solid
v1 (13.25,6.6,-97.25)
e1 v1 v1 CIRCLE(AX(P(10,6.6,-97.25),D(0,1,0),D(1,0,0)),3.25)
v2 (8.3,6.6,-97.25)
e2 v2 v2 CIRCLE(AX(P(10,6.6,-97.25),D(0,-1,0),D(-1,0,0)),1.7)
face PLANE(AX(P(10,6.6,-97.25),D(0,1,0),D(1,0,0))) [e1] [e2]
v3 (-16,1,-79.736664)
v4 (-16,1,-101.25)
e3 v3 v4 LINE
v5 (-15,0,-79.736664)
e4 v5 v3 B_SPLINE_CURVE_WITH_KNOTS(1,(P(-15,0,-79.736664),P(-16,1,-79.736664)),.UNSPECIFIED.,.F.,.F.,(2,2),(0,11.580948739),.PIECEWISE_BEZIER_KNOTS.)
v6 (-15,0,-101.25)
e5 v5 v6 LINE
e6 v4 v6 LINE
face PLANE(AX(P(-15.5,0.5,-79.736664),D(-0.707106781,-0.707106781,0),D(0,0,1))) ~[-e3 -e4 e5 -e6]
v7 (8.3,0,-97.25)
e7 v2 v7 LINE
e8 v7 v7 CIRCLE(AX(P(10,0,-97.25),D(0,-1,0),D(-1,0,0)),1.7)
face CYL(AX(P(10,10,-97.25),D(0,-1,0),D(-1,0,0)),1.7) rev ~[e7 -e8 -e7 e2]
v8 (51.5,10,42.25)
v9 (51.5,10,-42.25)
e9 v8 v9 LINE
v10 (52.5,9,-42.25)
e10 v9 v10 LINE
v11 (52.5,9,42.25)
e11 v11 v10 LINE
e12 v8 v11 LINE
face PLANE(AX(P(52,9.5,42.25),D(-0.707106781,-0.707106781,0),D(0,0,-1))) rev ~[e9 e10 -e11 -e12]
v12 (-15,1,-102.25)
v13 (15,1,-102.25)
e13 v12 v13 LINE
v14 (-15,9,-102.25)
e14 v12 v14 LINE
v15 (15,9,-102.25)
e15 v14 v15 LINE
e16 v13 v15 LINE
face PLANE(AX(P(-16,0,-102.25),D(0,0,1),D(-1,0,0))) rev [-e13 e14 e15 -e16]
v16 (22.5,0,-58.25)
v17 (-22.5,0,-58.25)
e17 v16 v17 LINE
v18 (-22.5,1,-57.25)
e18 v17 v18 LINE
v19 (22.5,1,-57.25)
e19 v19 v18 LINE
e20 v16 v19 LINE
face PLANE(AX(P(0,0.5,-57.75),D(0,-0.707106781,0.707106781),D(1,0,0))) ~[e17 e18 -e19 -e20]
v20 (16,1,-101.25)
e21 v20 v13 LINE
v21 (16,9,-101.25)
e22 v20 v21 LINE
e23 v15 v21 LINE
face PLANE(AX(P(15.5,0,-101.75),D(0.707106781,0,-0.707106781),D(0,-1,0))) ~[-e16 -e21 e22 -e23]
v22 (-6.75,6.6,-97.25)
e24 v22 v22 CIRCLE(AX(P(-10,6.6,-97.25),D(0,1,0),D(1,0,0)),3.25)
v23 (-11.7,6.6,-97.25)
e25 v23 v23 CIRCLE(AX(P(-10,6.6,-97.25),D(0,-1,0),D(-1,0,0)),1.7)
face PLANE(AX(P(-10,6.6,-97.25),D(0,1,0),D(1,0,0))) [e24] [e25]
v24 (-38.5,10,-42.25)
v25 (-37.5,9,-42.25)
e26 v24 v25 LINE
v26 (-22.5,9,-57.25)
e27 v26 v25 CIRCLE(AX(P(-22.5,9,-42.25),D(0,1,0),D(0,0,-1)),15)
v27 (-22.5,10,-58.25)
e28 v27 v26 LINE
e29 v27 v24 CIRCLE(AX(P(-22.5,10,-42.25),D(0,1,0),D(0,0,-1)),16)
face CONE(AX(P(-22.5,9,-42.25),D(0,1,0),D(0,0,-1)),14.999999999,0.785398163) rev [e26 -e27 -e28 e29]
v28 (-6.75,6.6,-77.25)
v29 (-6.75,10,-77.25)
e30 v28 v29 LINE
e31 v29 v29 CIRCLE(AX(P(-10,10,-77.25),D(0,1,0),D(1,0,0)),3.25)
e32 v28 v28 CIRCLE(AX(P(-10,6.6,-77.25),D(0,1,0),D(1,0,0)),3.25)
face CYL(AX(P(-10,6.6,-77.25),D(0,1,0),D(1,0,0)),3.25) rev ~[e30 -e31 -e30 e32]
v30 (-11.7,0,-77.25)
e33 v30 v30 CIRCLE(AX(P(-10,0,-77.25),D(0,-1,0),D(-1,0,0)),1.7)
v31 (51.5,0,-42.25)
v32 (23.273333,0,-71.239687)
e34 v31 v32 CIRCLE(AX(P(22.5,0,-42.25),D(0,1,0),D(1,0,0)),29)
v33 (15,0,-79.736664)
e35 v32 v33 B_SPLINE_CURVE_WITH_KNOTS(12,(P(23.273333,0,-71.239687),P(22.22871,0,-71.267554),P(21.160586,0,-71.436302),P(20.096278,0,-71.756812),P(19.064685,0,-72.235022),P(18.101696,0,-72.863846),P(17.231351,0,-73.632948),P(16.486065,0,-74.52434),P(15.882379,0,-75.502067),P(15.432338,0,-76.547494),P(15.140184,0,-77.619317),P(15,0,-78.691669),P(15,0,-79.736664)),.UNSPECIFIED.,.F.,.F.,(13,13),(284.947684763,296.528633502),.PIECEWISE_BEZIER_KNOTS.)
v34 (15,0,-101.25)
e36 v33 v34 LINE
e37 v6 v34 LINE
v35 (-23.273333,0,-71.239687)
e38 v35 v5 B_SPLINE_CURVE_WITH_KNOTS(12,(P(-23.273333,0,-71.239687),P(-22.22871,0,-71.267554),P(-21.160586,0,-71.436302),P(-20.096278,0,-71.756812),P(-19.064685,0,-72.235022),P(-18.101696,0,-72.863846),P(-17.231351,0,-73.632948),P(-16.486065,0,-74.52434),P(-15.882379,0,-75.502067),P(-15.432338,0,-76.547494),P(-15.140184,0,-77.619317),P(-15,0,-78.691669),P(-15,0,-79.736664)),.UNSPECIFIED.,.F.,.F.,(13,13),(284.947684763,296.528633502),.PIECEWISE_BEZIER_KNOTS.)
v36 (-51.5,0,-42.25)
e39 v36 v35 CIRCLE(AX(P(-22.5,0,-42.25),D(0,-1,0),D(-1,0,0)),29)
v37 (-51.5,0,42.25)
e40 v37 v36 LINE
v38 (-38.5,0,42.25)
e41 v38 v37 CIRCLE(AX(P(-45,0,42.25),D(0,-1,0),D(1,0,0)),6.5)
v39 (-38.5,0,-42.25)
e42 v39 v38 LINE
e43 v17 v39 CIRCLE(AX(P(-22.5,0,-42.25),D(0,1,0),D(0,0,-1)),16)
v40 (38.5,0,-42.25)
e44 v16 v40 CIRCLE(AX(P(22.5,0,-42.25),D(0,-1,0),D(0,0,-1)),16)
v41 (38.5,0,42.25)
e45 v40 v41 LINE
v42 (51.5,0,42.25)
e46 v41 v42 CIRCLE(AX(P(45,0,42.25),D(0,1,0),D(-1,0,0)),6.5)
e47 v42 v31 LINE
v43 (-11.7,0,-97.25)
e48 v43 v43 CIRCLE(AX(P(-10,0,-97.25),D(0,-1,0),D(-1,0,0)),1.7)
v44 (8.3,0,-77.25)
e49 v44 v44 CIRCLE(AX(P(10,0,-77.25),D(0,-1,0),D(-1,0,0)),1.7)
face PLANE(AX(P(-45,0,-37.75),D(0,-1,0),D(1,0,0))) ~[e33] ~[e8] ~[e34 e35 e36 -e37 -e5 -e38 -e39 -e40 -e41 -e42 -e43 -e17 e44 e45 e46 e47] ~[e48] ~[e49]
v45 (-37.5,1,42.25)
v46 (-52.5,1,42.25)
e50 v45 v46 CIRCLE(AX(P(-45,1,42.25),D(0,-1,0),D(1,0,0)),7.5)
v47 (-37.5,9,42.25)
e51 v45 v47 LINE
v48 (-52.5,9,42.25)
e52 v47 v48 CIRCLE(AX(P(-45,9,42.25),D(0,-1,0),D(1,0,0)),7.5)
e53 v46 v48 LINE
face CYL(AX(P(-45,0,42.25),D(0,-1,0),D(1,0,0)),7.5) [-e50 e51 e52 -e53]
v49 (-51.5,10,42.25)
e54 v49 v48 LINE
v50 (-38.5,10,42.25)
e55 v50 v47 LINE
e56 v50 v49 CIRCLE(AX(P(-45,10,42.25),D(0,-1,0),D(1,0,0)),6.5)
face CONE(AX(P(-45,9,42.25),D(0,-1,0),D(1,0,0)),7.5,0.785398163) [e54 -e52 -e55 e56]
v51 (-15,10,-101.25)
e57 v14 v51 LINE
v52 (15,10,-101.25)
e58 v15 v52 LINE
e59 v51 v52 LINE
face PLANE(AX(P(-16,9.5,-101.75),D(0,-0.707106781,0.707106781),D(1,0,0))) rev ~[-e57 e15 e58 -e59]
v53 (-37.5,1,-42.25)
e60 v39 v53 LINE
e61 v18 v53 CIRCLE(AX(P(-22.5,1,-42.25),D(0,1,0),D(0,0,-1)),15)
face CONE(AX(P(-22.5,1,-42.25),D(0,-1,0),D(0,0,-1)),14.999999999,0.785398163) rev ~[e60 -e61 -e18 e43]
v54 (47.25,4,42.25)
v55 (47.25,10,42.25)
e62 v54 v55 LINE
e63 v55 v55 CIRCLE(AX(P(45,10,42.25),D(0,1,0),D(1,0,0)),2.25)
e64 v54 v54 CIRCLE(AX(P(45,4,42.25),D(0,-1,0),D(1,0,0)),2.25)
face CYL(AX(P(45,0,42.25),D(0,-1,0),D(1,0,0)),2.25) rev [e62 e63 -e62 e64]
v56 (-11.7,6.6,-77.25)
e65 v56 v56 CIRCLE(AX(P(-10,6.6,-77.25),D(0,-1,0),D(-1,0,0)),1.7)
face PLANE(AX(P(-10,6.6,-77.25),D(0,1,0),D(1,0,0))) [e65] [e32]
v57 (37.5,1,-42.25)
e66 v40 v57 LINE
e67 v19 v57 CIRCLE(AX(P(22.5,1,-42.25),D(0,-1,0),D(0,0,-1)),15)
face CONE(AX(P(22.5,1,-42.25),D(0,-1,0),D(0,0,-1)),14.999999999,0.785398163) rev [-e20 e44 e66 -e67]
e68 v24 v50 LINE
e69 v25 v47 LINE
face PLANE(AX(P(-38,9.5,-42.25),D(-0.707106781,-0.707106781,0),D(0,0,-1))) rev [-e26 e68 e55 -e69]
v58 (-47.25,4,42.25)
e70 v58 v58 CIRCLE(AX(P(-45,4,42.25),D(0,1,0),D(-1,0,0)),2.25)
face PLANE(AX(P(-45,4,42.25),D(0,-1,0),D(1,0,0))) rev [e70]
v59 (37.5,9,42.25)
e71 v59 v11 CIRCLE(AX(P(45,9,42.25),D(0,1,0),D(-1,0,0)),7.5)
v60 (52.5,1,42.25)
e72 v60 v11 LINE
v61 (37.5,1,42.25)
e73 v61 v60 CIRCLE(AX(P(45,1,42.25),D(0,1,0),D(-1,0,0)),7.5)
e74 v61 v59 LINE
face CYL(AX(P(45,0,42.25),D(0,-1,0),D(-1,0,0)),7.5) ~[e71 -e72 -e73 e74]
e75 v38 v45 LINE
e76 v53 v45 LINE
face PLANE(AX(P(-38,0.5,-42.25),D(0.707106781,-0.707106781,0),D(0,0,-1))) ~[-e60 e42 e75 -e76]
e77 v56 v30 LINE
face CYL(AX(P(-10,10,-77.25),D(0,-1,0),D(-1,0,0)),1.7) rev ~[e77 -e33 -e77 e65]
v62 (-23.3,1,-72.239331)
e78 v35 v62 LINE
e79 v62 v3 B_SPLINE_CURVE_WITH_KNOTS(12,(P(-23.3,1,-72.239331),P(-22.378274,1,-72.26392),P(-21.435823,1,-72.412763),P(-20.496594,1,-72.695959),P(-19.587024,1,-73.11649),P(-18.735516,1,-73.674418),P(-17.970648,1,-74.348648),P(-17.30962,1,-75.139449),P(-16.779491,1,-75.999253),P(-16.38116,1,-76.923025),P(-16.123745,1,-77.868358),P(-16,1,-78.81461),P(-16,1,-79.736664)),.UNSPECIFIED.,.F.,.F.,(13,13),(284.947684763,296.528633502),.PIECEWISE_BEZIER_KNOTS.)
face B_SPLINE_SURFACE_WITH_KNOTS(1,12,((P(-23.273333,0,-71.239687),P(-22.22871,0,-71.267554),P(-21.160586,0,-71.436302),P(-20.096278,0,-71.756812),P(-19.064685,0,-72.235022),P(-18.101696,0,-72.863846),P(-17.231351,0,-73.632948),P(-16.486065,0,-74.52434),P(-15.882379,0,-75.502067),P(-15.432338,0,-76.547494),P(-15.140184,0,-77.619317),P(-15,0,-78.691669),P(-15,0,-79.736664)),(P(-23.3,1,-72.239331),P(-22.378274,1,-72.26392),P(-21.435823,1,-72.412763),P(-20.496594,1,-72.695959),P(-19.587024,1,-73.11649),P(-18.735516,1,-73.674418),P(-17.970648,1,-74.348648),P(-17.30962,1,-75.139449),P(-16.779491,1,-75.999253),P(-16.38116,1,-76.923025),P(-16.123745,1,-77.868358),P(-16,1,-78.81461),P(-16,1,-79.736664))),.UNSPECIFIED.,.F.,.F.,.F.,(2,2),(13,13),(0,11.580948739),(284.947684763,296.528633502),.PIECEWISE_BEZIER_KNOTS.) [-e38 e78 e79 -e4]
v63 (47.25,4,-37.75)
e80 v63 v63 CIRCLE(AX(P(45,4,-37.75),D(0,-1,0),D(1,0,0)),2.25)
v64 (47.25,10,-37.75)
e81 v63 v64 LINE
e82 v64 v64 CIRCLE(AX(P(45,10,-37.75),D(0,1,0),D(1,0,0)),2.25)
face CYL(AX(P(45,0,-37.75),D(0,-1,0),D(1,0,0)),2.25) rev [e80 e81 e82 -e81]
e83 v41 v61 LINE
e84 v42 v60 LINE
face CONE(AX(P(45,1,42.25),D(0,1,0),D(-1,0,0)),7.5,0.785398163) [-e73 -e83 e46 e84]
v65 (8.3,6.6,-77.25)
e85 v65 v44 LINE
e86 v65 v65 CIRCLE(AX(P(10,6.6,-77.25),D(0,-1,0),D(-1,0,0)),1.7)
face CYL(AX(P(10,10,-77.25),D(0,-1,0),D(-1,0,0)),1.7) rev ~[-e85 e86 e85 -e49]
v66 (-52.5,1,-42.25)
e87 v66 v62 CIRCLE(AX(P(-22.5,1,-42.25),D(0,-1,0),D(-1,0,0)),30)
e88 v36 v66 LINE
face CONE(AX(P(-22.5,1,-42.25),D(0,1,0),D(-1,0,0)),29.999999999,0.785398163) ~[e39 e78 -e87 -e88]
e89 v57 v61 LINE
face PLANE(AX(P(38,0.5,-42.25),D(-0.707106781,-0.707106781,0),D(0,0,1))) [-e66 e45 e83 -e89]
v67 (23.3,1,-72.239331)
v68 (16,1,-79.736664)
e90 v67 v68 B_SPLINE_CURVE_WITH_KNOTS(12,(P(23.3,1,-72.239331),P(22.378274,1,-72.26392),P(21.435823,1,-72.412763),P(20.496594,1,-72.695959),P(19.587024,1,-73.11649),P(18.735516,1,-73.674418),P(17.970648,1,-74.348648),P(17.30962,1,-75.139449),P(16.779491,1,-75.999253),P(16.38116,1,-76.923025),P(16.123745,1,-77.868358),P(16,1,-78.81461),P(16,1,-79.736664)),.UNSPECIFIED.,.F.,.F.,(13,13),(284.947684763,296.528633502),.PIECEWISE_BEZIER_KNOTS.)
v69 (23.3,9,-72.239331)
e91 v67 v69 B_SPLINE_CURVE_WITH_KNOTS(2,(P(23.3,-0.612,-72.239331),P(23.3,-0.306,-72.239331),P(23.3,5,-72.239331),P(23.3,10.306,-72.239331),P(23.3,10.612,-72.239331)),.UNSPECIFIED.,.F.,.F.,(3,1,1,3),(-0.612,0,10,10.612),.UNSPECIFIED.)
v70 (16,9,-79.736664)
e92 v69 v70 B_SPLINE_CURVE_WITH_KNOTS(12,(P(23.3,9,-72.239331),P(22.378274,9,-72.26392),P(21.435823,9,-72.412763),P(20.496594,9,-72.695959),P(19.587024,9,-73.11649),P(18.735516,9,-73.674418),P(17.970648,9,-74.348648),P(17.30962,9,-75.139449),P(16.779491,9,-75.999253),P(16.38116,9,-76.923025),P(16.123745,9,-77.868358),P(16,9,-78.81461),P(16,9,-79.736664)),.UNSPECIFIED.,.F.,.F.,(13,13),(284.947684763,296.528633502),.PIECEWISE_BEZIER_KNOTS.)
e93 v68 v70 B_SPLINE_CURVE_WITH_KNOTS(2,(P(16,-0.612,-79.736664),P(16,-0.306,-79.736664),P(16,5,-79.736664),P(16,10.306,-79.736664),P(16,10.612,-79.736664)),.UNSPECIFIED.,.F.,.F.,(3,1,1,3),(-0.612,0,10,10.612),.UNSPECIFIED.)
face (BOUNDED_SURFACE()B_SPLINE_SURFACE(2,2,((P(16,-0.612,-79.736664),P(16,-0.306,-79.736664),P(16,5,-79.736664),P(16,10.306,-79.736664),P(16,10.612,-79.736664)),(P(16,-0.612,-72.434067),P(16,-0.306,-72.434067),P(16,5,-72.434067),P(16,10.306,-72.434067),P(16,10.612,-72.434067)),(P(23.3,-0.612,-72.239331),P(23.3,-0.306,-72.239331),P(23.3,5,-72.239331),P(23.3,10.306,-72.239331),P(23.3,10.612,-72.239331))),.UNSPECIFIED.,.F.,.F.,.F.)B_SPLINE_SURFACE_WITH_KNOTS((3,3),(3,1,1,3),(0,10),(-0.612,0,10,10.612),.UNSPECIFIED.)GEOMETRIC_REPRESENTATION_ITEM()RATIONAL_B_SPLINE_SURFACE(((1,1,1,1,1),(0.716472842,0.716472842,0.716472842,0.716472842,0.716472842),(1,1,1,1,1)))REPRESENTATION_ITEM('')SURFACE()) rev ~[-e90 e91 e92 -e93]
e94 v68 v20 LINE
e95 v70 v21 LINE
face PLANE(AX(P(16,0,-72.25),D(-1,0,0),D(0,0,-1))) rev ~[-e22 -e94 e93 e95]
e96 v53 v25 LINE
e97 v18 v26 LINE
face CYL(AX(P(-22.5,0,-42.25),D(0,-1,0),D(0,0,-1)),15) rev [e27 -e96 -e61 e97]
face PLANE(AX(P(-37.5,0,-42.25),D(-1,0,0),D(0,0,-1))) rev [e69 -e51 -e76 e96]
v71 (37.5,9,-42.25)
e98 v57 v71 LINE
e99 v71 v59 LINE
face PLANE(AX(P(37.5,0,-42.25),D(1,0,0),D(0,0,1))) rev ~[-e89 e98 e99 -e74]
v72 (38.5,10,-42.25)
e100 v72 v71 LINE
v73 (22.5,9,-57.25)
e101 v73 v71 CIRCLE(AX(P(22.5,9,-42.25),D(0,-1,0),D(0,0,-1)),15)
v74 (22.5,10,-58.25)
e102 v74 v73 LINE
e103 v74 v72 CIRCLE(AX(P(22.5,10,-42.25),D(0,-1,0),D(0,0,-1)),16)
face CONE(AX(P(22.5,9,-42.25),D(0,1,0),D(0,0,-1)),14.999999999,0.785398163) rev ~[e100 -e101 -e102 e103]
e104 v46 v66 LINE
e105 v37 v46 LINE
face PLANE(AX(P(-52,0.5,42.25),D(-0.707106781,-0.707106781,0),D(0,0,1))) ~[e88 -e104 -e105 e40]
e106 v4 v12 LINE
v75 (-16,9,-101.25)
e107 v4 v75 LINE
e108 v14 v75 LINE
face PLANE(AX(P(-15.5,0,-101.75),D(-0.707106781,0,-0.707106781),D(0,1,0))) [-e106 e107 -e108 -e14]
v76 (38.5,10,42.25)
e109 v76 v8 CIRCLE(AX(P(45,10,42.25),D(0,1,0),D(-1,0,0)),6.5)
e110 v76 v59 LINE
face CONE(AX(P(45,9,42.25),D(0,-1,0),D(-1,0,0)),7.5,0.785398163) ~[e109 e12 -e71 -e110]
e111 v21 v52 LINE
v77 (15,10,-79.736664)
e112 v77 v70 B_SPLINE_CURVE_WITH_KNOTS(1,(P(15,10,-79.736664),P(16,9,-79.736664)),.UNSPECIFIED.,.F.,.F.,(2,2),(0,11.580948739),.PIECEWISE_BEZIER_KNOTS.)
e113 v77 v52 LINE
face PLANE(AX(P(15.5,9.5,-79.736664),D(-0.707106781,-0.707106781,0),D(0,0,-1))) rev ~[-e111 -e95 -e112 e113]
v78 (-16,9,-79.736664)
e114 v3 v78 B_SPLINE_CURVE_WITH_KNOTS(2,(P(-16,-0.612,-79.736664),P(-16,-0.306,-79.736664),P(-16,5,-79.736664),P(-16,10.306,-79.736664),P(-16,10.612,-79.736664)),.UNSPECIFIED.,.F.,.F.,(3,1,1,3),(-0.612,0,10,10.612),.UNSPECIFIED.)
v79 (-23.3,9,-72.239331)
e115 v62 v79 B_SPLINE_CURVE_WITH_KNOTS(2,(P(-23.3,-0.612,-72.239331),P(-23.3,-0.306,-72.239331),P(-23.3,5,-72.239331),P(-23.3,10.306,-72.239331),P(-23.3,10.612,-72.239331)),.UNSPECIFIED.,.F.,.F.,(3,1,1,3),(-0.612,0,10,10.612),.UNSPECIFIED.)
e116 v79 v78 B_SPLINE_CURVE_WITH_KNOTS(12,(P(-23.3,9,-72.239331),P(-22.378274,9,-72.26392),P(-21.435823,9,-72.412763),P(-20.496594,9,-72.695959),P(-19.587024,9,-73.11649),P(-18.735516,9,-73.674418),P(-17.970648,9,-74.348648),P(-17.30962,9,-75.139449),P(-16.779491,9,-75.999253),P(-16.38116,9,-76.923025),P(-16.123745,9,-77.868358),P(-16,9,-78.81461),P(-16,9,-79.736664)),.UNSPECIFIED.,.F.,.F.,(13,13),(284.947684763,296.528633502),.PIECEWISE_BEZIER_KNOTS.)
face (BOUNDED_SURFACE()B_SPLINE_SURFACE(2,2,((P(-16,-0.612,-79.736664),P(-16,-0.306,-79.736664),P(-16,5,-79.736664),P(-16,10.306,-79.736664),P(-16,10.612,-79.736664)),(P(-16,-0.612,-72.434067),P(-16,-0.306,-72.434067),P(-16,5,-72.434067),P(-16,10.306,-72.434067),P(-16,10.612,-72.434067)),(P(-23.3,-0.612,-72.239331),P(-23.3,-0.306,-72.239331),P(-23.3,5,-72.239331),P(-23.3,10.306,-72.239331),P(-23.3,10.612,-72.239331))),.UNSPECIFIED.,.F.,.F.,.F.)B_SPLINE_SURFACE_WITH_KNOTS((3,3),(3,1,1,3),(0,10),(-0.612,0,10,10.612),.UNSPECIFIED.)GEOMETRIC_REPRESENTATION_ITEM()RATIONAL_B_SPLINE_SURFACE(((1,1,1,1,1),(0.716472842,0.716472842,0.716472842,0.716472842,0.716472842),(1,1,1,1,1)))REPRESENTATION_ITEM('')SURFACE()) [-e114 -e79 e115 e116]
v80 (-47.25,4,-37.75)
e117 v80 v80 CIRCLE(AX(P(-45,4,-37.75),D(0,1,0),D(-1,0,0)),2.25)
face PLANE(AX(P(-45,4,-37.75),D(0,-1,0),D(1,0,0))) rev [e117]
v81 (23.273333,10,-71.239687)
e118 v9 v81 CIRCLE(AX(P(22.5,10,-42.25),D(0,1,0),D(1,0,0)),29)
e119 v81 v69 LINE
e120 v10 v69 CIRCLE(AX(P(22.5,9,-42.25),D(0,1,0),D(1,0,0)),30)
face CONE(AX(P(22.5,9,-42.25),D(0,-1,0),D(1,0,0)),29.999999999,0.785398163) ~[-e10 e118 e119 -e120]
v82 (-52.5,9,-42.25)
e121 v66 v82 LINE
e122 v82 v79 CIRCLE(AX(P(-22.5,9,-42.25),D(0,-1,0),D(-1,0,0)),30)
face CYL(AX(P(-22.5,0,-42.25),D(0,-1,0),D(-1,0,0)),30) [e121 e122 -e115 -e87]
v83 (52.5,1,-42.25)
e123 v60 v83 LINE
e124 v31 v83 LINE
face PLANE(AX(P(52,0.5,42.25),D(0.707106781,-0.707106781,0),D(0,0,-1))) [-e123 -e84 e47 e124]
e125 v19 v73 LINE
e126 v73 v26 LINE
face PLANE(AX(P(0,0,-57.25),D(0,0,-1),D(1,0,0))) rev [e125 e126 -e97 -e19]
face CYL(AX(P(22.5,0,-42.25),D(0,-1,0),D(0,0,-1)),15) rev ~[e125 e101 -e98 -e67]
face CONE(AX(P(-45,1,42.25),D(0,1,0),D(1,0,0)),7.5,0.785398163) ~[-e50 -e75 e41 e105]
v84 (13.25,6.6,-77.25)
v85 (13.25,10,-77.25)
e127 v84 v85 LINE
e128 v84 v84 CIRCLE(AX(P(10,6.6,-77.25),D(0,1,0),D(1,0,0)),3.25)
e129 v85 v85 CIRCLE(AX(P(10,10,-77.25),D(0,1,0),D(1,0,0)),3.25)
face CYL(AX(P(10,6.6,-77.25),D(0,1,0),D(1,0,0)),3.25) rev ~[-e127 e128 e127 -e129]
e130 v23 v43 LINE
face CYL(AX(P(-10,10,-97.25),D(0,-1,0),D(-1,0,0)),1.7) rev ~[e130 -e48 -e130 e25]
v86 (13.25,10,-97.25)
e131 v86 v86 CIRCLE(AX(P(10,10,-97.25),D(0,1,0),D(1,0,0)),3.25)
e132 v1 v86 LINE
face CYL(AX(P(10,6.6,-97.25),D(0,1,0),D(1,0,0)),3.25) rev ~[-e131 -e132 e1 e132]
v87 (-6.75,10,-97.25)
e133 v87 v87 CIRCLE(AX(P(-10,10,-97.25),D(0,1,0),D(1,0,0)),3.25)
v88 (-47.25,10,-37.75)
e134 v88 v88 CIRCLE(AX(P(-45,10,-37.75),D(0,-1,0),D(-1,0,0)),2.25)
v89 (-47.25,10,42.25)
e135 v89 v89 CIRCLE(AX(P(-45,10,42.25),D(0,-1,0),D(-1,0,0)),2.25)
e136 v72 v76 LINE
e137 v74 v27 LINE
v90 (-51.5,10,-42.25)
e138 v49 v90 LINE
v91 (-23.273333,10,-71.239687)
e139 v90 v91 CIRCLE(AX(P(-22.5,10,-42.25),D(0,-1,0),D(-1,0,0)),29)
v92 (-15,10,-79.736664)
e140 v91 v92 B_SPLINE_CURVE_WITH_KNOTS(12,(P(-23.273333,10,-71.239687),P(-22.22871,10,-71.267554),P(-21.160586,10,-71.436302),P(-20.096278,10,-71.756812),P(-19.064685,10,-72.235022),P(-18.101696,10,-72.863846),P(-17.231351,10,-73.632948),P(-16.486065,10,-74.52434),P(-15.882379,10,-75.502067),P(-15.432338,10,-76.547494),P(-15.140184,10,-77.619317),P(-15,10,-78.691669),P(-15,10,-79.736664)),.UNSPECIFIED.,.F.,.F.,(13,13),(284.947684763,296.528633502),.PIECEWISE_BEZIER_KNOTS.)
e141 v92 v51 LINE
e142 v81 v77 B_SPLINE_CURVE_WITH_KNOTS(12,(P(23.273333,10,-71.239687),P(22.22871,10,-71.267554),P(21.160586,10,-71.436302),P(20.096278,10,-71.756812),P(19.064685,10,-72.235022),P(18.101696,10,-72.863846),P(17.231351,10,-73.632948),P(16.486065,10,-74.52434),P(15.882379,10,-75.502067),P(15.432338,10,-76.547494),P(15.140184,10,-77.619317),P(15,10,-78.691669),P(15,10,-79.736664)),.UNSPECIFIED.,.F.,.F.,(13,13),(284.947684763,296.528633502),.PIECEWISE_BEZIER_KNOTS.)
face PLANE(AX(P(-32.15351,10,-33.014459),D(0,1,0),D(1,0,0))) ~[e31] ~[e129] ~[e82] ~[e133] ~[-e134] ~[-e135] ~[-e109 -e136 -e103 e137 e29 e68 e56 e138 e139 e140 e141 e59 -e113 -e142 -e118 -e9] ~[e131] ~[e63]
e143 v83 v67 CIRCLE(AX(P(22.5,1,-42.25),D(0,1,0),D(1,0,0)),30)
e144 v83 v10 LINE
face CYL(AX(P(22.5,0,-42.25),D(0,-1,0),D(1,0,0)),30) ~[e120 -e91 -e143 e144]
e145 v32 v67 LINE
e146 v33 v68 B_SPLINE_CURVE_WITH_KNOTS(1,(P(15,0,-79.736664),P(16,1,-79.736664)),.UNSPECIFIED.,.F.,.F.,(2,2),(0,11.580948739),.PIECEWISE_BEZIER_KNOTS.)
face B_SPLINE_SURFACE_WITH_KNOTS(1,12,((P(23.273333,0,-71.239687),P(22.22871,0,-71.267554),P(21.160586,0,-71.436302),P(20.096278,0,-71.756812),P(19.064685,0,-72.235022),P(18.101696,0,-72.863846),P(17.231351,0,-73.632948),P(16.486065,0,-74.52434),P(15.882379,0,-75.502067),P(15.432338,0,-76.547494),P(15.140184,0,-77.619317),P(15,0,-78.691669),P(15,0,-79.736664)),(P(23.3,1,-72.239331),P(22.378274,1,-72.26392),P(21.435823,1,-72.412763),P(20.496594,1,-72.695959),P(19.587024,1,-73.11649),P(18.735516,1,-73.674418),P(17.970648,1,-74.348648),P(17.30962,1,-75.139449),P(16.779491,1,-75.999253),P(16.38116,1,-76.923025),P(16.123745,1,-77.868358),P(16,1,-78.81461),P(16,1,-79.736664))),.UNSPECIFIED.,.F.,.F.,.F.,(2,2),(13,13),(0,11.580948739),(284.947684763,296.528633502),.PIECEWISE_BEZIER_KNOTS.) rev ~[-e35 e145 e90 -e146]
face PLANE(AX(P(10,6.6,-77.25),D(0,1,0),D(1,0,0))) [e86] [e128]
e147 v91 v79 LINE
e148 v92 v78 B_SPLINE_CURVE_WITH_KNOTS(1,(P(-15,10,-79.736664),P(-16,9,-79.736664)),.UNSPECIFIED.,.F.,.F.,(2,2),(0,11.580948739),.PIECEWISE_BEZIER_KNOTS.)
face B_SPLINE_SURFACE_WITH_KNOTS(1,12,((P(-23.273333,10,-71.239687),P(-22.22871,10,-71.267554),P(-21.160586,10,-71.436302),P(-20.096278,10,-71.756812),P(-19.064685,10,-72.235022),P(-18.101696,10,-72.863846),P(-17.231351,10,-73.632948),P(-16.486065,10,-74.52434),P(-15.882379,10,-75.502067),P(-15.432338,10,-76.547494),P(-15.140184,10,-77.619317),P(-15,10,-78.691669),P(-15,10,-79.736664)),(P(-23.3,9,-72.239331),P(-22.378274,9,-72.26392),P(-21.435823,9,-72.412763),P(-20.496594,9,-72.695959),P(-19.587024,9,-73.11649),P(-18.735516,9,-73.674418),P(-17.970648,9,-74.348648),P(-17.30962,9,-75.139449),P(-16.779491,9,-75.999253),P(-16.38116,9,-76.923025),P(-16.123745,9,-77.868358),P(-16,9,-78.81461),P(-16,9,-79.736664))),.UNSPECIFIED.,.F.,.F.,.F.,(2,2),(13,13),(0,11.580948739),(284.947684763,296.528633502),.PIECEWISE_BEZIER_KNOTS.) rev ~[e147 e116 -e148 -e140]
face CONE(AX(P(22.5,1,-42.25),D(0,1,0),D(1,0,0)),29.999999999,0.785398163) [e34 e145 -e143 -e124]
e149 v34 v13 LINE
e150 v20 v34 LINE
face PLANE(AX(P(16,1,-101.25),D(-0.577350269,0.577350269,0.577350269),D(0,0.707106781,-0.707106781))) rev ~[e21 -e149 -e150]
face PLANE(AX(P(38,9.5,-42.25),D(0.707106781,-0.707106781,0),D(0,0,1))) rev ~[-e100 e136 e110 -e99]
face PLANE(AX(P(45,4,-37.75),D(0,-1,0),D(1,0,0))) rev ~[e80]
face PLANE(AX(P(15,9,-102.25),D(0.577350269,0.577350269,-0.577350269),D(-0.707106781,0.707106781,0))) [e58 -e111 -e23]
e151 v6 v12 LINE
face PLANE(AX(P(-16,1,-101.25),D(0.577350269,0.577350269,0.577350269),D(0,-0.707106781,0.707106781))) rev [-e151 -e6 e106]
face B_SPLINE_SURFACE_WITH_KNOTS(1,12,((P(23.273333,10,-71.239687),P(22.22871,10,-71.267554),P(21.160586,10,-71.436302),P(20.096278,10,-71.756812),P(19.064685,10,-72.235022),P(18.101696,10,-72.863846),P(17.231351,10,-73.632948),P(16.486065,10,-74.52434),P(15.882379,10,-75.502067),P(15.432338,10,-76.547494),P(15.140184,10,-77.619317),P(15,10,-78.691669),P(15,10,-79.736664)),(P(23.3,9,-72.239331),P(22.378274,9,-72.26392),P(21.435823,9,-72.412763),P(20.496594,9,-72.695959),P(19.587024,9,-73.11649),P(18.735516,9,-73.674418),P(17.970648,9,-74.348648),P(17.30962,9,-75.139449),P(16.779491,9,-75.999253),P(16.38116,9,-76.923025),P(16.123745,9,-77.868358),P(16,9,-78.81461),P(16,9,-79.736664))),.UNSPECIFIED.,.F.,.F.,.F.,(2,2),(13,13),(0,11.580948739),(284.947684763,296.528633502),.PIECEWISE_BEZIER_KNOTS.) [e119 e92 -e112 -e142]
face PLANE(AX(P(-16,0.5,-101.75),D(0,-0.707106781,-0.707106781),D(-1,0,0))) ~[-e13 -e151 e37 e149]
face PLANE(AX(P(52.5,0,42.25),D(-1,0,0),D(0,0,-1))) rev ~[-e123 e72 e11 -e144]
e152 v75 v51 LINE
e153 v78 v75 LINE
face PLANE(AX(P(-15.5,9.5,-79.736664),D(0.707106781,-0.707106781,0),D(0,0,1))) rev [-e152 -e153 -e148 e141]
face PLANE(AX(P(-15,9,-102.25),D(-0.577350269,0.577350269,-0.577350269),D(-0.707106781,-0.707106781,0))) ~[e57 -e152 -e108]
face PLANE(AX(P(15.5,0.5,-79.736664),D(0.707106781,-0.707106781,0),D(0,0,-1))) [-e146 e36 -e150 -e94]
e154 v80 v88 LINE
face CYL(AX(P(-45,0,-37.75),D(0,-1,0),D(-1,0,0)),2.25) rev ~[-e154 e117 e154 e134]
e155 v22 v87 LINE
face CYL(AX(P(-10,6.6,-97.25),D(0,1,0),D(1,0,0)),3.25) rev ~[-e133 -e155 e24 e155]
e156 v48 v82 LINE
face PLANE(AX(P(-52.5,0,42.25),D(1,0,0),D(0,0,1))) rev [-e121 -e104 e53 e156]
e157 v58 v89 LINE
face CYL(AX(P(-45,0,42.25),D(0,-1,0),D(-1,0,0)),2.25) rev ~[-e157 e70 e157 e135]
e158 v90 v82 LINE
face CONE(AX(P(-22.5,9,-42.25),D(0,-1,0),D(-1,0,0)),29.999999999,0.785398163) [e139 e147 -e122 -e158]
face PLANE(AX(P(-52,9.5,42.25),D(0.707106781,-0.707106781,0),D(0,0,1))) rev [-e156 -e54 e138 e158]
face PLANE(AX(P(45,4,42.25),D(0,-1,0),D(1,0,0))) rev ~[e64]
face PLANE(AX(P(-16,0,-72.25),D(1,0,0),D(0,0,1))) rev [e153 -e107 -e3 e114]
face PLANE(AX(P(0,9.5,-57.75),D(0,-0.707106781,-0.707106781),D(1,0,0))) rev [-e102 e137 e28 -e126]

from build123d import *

# Parameters (mm, degrees)
SKETCH1_R                                           = 2.25
BOSS_EXTRUDE1_DEPTH                                 = 10
FILLET1_R                                           = 7.5
CHAMFER1_SIZE                                       = 1
SKETCH5_R                                           = 2.25
BOSS_EXTRUDE2_DEPTH                                 = 4
CBORE_FOR_M3_HEX_SOCKET_HEAD_CAP_SCREW1_D           = 3.4
CBORE_FOR_M3_HEX_SOCKET_HEAD_CAP_SCREW1_CBORE_D     = 6.5
CBORE_FOR_M3_HEX_SOCKET_HEAD_CAP_SCREW1_CBORE_DEPTH = 3.4


with BuildPart() as part:
    # Sketch1 → Boss-Extrude1 (new body)
    with BuildSketch(Plane(origin=(0, 0, 0), x_dir=(1, 0, 0), z_dir=(0, 1, 0))):
        with BuildLine():
            Line((0, 57.25), (22.5, 57.25))
            ThreePointArc((22.5, 57.25), (33.106601718, 52.856601718), (37.5, 42.25))
            Line((37.5, 42.25), (37.5, -42.25))
            ThreePointArc((37.5, -42.25), (45, -49.75), (52.5, -42.25))
            Line((52.5, -42.25), (52.5, 42.25))
            ThreePointArc((52.5, 42.25), (43.713203436, 63.463203436), (22.5, 72.25))
            Line((22.5, 72.25), (16, 72.25))
            Line((16, 72.25), (16, 102.25))
            Line((16, 102.25), (0, 102.25))
            Line((0, 102.25), (0, 57.25))
        make_face()
        with Locations((45, -42.25)):
            Circle(SKETCH1_R, mode=Mode.SUBTRACT)
        with Locations((45, 37.75)):
            Circle(SKETCH1_R, mode=Mode.SUBTRACT)
    extrude(amount=BOSS_EXTRUDE1_DEPTH)

    # Fillet1
    fillet1_edges = [part.edges().sort_by_distance(p)[0] for p in [
        (16, 5, -72.25),
    ]]
    fillet(fillet1_edges, radius=FILLET1_R)

    # Chamfer1
    chamfer1_edges = [part.edges().sort_by_distance(p)[0] for p in [
        (8, 0, -102.25),
        (43.99418526, 0, -63.178449536),
        (52.5, 0, 0),
        (45, 0, 49.75),
        (37.5, 0, 0),
        (33.106601718, 10, -52.856601718),
        (33.106601718, 0, -52.856601718),
        (11.25, 0, -57.25),
        (37.5, 10, 0),
        (16, 5, -102.25),
        (45, 10, 49.75),
        (52.5, 10, 0),
        (43.99418526, 10, -63.178449536),
        (16, 0, -90.993332148),
        (16, 10, -90.993332148),
        (8, 10, -102.25),
        (18.126453685, 0, -74.504551911),
        (18.126453685, 10, -74.504551911),
        (11.25, 10, -57.25),
    ]]
    chamfer(chamfer1_edges, length=CHAMFER1_SIZE)

    # Sketch5 → Boss-Extrude2 (add)
    with BuildSketch(Plane.XZ):
        with Locations((45, -37.75)):
            Circle(SKETCH5_R)
        with Locations((45, 42.25)):
            Circle(SKETCH5_R)
    extrude(amount=-BOSS_EXTRUDE2_DEPTH)

    # Mirror1: part across plane


with BuildPart() as part_1:
    add(part.part)
    add(part.part.mirror(Plane(origin=(0, 10, -57.25), x_dir=(0, 0, 1), z_dir=(1, 0, 0))))

    # CBORE for M3 Hex Socket Head Cap Screw1 (through all)
    with Locations(Plane(origin=(0, 10, 0), x_dir=(1, 0, 0), z_dir=(0, 1, 0))):
        with Locations((10, 97.25), (-10, 97.25), (-10, 77.25), (10, 77.25)):
            CounterBoreHole(CBORE_FOR_M3_HEX_SOCKET_HEAD_CAP_SCREW1_D / 2, CBORE_FOR_M3_HEX_SOCKET_HEAD_CAP_SCREW1_CBORE_D / 2, CBORE_FOR_M3_HEX_SOCKET_HEAD_CAP_SCREW1_CBORE_DEPTH)


solid = part_1.part
